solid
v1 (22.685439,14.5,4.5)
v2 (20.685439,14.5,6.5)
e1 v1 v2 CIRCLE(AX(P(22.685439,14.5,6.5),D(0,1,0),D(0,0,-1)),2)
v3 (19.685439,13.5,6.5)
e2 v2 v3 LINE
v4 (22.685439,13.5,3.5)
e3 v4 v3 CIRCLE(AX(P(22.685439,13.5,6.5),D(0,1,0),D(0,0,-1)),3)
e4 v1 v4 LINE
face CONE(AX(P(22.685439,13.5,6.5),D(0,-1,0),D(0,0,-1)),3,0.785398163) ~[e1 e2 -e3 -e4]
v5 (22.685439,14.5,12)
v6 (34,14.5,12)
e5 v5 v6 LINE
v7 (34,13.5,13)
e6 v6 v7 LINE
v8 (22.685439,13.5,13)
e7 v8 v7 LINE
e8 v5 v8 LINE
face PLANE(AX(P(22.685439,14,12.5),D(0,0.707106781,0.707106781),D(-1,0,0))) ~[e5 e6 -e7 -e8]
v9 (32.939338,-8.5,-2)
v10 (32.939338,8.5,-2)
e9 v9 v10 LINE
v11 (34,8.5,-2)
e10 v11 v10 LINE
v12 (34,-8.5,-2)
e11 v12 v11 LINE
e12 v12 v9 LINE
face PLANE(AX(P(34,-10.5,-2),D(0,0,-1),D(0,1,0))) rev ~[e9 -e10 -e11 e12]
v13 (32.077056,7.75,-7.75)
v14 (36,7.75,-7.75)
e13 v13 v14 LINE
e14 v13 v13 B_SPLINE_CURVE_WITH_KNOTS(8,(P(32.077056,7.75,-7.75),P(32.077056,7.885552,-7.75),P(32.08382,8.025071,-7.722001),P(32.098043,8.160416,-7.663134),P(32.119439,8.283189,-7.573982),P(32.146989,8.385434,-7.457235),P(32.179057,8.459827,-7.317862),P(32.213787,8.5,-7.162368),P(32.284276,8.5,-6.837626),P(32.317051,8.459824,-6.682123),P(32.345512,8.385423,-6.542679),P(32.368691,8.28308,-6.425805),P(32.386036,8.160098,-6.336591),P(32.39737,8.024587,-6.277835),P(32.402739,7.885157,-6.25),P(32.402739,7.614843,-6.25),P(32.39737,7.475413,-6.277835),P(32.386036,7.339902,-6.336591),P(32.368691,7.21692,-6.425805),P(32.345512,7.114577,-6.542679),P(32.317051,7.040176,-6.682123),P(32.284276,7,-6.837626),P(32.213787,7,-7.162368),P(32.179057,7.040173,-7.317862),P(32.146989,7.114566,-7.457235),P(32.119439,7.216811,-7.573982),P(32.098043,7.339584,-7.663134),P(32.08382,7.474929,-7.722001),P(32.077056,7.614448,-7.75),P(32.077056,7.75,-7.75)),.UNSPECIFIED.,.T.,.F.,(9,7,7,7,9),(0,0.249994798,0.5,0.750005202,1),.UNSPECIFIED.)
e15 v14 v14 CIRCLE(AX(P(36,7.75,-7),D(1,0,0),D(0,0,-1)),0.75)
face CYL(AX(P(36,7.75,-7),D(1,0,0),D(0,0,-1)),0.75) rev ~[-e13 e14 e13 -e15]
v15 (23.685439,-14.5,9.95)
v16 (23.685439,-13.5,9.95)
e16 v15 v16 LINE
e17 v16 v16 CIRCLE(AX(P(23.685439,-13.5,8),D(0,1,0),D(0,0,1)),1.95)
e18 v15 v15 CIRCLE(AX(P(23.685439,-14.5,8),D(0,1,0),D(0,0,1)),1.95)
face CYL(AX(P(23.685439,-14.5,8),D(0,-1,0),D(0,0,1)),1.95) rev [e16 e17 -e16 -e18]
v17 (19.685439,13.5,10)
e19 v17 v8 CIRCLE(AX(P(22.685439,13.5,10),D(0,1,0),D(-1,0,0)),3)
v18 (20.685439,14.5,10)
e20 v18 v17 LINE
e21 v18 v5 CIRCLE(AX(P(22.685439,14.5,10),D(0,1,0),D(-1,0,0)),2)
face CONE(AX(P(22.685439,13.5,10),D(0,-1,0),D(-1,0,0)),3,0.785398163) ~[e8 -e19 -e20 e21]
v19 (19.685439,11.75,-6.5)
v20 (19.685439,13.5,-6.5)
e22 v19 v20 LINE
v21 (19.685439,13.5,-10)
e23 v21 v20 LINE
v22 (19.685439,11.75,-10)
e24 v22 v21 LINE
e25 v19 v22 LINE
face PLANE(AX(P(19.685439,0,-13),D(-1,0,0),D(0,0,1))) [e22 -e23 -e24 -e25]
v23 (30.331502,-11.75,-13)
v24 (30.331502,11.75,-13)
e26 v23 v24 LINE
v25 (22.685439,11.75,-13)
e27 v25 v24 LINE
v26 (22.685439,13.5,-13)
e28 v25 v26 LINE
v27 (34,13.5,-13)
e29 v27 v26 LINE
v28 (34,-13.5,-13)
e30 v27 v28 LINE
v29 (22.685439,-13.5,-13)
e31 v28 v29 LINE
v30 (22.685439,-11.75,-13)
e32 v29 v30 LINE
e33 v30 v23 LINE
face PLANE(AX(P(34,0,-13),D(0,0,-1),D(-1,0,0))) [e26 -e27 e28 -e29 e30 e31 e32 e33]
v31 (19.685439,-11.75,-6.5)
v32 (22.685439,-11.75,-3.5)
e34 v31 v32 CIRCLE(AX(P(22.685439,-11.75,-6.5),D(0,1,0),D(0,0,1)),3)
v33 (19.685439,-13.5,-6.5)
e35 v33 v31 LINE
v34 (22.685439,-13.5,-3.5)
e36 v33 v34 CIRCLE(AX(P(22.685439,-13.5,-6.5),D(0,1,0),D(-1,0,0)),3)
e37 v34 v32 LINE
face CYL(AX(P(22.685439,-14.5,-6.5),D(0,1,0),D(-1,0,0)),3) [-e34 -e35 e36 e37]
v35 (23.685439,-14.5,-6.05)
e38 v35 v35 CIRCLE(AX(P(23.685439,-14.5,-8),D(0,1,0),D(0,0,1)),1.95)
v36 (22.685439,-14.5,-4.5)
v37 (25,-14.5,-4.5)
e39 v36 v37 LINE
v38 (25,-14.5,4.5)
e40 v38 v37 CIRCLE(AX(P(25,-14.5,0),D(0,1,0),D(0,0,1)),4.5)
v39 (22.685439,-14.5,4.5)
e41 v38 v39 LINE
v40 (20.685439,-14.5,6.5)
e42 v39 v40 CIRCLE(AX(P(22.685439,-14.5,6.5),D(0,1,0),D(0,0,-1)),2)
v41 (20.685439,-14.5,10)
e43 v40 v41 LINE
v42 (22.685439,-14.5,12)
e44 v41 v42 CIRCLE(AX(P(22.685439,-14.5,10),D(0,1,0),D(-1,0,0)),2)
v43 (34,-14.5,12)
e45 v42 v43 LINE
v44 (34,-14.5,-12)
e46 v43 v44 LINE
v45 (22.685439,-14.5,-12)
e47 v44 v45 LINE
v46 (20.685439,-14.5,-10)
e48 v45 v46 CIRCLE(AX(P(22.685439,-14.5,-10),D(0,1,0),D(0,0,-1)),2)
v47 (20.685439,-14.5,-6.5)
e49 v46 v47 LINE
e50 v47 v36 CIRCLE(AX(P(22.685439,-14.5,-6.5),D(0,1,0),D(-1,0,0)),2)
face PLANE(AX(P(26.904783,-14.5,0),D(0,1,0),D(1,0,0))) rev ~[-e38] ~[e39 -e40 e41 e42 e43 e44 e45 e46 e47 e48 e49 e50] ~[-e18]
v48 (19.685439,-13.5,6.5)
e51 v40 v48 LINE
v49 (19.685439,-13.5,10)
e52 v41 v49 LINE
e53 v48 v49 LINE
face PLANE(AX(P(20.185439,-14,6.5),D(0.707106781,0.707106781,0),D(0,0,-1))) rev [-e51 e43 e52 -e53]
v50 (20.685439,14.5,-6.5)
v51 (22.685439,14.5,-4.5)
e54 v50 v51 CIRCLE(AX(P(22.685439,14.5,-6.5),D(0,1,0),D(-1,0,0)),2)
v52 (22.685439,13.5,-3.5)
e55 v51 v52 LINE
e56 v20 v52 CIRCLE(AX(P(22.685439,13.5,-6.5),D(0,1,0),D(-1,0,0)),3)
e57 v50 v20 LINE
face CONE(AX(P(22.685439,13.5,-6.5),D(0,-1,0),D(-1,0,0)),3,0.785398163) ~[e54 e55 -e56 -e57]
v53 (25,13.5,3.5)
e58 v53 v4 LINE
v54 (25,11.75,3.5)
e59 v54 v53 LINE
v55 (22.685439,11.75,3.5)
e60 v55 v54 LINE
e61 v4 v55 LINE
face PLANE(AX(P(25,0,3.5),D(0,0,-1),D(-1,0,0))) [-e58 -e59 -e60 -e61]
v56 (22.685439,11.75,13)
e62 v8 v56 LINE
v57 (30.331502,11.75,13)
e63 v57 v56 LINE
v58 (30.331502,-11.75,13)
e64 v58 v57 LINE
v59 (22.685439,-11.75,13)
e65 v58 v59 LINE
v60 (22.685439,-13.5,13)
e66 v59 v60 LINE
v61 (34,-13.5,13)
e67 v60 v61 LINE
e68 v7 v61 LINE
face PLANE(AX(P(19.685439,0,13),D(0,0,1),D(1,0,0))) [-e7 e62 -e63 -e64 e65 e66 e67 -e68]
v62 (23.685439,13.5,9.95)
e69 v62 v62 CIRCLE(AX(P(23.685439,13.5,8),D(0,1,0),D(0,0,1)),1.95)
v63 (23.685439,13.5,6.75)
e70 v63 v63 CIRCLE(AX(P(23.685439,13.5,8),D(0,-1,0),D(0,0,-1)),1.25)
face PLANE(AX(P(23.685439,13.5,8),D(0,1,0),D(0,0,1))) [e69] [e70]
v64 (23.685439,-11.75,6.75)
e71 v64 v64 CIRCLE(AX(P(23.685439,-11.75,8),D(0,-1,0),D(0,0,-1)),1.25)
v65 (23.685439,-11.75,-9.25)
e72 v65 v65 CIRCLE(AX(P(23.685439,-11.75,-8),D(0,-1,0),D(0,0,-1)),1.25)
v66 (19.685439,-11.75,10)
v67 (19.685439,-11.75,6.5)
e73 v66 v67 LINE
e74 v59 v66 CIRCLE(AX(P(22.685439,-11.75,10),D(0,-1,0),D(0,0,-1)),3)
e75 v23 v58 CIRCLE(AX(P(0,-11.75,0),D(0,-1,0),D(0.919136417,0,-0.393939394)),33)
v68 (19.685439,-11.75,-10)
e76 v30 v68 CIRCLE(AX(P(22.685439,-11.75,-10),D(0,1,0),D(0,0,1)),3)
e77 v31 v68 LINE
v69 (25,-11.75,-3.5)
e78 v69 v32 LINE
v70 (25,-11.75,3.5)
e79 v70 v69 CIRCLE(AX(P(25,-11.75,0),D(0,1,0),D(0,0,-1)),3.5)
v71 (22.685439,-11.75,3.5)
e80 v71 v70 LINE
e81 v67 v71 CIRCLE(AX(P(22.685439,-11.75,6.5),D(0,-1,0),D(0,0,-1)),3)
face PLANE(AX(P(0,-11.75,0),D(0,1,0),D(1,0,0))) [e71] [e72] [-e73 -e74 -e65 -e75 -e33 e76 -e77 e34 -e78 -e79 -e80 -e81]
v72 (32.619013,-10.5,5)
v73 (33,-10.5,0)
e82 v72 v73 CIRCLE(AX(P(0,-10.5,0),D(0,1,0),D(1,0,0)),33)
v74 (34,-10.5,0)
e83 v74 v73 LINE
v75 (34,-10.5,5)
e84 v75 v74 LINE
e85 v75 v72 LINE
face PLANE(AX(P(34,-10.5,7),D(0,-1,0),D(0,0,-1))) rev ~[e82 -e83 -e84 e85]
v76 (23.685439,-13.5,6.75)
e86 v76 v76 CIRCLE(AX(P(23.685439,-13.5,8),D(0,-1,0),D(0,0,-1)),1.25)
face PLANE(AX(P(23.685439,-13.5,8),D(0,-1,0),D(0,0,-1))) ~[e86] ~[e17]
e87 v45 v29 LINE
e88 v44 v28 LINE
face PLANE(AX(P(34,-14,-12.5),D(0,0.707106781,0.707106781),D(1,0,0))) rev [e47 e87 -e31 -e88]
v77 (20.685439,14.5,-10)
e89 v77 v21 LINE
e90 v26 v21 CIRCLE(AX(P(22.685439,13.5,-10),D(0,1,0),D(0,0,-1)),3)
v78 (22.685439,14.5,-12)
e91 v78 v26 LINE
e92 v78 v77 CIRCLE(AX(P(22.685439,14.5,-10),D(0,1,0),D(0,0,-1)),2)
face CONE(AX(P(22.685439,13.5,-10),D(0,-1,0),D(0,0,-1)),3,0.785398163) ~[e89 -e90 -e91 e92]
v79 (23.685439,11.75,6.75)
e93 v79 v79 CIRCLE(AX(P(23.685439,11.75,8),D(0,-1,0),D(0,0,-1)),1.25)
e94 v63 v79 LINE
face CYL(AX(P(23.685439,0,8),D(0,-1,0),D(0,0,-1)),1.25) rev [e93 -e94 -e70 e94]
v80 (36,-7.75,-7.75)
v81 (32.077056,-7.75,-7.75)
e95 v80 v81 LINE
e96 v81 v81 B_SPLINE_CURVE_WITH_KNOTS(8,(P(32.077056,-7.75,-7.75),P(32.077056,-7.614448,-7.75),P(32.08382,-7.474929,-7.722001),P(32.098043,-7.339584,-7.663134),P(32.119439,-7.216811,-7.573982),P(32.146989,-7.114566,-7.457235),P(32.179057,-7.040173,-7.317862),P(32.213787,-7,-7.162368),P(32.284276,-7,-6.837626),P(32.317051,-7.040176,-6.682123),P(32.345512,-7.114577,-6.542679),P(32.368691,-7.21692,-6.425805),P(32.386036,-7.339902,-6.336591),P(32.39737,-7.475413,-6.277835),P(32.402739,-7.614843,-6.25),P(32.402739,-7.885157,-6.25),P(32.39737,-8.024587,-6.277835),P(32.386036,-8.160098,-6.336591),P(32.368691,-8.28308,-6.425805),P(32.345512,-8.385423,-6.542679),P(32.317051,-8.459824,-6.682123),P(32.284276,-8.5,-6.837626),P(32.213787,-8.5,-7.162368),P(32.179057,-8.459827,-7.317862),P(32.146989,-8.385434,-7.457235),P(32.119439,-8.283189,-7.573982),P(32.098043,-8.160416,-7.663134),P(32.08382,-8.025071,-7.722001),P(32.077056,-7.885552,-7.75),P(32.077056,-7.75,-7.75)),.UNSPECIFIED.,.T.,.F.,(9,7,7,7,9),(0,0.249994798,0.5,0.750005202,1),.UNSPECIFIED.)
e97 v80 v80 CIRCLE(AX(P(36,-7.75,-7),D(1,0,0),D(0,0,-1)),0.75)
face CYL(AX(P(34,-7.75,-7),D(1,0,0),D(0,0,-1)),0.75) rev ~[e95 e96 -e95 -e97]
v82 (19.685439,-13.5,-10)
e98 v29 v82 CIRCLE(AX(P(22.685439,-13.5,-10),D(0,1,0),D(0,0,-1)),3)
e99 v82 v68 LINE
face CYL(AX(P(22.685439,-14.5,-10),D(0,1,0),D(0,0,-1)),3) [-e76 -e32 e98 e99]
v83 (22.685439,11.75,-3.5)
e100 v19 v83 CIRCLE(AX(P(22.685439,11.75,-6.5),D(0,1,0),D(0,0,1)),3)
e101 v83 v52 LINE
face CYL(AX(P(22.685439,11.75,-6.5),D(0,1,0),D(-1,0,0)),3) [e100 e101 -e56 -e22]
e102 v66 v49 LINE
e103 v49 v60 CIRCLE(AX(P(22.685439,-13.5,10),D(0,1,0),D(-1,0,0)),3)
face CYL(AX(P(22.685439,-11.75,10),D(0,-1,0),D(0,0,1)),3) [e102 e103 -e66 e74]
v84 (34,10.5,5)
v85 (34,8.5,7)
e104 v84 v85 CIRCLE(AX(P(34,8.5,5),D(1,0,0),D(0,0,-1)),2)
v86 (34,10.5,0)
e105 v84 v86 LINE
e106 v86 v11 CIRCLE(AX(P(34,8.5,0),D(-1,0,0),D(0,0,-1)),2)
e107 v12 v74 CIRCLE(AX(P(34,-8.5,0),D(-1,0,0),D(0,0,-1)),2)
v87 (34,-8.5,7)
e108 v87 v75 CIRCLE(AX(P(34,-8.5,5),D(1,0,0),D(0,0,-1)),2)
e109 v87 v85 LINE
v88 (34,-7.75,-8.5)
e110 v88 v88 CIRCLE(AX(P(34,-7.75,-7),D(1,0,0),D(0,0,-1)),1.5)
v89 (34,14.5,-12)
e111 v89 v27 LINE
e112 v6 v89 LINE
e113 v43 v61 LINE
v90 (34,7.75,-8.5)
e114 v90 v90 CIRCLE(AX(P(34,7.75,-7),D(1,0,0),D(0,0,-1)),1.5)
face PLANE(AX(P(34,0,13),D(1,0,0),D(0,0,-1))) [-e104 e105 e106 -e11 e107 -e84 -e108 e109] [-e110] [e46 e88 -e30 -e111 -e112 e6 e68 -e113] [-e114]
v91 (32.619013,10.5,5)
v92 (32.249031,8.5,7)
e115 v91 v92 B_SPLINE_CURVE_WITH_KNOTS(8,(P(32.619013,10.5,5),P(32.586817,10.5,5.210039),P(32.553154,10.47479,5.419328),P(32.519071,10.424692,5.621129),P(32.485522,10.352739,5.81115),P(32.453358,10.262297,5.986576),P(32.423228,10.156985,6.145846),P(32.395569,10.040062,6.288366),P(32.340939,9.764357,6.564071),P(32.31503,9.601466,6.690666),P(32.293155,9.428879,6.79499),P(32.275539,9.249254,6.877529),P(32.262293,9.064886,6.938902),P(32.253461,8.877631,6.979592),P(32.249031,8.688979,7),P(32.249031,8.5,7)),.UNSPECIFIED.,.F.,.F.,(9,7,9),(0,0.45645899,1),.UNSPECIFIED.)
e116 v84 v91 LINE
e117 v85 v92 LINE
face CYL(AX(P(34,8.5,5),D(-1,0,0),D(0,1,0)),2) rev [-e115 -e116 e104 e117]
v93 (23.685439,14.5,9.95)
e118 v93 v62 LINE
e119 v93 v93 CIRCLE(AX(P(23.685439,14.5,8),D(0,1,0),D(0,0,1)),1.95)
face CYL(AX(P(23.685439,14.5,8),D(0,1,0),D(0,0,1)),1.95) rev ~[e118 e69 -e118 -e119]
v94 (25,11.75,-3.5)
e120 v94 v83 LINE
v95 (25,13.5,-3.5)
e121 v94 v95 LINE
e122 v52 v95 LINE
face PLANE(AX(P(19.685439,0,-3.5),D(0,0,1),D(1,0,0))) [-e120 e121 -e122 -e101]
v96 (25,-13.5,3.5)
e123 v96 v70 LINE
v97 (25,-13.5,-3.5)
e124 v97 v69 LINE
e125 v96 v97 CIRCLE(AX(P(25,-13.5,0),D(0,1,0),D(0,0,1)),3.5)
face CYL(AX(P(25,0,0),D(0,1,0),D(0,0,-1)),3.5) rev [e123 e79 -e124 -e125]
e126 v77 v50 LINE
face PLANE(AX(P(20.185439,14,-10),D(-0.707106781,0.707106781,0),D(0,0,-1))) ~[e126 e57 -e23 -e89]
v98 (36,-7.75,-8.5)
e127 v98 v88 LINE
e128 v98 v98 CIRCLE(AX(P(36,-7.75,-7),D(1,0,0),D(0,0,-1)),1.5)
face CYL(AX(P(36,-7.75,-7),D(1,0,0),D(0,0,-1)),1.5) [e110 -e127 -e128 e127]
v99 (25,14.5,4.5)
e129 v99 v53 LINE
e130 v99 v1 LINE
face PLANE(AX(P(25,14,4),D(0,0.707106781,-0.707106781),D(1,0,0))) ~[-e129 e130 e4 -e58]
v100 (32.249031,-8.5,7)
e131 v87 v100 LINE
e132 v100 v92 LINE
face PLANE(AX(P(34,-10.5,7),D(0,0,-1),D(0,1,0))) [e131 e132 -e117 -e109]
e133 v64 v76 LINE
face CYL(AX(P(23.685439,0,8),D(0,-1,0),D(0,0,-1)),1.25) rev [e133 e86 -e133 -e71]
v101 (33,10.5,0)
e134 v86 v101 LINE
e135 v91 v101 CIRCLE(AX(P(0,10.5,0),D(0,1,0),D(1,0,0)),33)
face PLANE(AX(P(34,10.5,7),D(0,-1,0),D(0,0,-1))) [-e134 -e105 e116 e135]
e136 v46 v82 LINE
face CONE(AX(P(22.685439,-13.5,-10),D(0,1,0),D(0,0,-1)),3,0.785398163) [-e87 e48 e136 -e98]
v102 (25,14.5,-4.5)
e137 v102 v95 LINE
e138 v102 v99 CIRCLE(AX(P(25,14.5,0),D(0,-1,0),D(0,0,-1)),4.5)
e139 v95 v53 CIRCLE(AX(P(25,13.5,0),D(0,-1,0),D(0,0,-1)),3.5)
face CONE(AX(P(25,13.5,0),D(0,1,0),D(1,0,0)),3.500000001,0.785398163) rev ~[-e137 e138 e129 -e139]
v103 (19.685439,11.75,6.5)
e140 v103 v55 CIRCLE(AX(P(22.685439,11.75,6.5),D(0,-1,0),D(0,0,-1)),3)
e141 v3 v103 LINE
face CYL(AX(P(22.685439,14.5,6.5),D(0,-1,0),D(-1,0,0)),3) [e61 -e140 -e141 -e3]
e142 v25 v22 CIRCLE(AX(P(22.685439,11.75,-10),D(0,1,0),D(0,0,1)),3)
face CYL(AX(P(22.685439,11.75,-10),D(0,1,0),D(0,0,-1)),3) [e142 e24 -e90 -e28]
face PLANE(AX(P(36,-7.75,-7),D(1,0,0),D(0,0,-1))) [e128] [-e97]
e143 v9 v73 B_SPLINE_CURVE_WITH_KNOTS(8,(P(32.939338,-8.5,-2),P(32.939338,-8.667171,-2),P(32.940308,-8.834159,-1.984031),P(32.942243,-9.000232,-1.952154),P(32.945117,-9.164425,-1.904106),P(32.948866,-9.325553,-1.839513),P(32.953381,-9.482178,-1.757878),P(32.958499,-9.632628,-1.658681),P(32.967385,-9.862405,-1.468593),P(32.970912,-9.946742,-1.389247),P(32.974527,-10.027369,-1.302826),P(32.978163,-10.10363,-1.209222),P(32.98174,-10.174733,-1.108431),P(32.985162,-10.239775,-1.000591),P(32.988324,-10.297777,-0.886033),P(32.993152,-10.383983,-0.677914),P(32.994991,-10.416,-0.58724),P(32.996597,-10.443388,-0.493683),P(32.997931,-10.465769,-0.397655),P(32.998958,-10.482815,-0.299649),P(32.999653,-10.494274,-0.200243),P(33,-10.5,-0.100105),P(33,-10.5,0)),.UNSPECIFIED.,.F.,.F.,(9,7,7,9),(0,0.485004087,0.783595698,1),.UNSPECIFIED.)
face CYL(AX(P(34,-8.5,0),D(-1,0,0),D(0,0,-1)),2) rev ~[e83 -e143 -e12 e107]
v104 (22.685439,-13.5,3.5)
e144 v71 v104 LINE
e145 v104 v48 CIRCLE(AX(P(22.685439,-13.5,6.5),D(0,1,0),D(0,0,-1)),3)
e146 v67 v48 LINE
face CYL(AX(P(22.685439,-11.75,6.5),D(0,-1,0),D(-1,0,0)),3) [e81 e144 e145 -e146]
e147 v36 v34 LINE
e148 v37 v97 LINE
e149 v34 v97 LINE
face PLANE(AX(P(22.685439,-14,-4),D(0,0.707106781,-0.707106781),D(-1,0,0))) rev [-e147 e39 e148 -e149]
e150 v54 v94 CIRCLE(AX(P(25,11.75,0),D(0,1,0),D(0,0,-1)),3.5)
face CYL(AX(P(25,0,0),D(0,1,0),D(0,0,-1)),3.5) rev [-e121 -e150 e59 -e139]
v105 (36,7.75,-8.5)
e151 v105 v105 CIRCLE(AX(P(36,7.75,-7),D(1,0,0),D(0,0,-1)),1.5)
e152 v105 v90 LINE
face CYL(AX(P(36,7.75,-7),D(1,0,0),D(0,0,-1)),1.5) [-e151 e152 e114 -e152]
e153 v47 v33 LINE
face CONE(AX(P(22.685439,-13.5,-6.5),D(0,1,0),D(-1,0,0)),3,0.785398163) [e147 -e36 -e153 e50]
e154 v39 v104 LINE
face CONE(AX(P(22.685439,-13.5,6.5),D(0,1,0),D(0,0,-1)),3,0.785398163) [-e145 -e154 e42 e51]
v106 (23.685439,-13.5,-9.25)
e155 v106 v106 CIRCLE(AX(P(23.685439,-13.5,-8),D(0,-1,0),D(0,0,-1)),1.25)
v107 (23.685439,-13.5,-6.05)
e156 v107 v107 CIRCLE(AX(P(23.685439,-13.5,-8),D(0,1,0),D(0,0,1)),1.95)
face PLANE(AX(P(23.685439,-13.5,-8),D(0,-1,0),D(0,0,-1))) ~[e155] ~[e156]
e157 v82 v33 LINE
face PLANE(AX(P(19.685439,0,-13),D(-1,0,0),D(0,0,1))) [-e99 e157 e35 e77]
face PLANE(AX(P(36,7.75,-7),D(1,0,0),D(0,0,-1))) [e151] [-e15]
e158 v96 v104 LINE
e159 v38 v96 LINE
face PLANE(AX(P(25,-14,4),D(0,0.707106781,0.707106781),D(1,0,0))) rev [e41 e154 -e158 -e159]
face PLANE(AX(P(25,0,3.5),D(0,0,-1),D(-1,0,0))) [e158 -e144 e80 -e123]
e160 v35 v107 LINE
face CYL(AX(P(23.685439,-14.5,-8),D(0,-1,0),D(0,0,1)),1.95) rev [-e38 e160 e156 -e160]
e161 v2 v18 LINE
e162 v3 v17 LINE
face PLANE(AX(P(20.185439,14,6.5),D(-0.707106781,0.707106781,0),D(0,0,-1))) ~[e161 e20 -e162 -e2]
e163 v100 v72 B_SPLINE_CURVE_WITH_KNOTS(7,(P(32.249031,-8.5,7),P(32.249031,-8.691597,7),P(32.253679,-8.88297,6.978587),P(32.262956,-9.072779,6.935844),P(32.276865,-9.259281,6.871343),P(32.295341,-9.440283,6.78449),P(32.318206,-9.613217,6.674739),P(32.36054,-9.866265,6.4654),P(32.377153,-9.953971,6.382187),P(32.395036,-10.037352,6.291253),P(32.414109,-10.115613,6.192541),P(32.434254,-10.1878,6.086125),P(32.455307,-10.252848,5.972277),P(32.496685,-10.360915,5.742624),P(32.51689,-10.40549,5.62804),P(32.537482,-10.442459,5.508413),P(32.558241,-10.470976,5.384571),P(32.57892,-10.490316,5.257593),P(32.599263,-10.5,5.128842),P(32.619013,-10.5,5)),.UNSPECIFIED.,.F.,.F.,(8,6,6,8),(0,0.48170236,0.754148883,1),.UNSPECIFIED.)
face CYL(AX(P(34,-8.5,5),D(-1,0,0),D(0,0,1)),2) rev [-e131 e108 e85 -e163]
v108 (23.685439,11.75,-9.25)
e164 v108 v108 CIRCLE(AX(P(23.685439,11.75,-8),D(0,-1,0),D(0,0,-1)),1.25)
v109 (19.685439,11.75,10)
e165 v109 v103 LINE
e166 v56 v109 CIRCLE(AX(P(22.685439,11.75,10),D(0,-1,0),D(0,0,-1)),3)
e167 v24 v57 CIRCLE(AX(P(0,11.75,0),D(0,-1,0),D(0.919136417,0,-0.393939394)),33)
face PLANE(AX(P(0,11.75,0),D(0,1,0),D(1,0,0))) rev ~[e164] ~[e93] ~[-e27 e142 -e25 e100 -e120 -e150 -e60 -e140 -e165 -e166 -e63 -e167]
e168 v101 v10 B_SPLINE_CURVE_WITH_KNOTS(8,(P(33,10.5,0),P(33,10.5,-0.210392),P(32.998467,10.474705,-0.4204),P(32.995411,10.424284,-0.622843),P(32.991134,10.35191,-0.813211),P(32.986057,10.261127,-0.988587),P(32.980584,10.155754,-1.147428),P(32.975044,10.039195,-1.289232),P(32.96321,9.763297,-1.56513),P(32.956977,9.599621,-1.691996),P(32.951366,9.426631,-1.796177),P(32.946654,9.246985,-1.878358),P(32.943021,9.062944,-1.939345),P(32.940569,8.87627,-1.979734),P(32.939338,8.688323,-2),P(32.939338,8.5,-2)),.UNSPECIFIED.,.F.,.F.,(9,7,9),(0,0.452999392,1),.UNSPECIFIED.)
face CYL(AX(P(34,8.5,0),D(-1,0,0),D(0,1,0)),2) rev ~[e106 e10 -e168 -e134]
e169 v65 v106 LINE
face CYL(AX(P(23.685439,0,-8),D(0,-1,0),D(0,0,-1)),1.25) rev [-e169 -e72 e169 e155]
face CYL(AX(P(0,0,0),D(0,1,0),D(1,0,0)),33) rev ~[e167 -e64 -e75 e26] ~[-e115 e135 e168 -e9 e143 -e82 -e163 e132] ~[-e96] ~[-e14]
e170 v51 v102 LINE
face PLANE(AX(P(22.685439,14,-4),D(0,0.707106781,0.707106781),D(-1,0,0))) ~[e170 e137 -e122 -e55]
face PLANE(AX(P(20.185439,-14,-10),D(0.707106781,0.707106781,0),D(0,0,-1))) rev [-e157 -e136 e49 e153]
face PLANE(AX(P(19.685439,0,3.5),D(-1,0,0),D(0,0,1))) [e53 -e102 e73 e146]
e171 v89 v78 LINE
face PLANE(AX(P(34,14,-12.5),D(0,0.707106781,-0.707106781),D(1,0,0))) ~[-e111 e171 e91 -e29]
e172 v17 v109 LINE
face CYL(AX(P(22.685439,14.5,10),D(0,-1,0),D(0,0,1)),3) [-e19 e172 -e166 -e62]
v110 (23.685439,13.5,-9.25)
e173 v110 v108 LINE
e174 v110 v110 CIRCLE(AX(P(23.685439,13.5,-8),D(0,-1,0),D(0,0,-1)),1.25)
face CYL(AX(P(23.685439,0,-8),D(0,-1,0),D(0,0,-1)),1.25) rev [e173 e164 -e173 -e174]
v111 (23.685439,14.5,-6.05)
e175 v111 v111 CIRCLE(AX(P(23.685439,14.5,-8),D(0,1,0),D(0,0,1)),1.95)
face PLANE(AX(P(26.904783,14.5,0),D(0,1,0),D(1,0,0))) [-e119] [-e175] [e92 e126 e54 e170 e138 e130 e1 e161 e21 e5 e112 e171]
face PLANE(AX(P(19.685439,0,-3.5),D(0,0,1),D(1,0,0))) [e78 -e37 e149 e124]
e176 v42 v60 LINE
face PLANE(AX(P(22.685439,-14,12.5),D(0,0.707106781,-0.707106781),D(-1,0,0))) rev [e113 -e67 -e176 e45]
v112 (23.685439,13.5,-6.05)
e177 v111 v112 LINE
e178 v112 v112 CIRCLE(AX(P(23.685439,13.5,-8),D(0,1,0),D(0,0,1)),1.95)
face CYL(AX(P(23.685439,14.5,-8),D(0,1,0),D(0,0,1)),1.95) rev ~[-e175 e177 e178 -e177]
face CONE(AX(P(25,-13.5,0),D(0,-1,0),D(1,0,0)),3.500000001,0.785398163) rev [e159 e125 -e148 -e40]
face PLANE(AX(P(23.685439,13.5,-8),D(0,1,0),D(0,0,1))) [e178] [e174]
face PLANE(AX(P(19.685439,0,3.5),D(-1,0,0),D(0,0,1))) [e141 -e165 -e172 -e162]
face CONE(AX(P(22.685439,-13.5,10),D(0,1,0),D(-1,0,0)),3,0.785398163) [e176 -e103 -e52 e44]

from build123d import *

# Parameters (mm, degrees)
SKETCH_1_R          = 1.25
EXTRUDE_1_DEPTH     = 14.5
SKETCH_2_R          = 33
CUT_EXTRUDE_1_DEPTH = 11.75
SKETCH_3_R          = 0.75
SKETCH_3_W          = 9
SKETCH_3_H          = 21
CUT_EXTRUDE_2_DEPTH = 25.169333236
EXTRUDE_START       = 2
SKETCH_4_R          = 1.5
SKETCH_4_R_2        = 0.75
EXTRUDE_2_DEPTH     = 2
FILLET_1_R          = 2
FILLET_2_R          = 3
CHAMFER_1_SIZE      = 1
SKETCH_5_R          = 1.95
CUT_EXTRUDE_3_DEPTH = 1


with BuildPart() as part:
    # Эскиз1 → Бобышка-Вытянуть1 (new, symmetric)
    with BuildSketch(Plane(origin=(0, 0, 0), x_dir=(1, 0, 0), z_dir=(0, 1, 0))):
        with BuildLine():
            Line((34, 13), (19.685438565, 13))
            Line((19.685438565, 13), (19.685438565, 3.5))
            Line((19.685438565, 3.5), (25, 3.5))
            ThreePointArc((25, 3.5), (27.474873734, 2.474873734), (28.5, 0))
            ThreePointArc((28.5, 0), (27.474873734, -2.474873734), (25, -3.5))
            Line((25, -3.5), (19.685438565, -3.5))
            Line((19.685438565, -3.5), (19.685438565, -13))
            Line((19.685438565, -13), (34, -13))
            Line((34, -13), (34, 13))
        make_face()
        with Locations(Location((23.685438565, -8, 0), (0, 0, 90))):
            Circle(SKETCH_1_R, mode=Mode.SUBTRACT)
        with Locations(Location((23.685438565, 8, 0), (0, 0, 90))):
            Circle(SKETCH_1_R, mode=Mode.SUBTRACT)
    extrude(amount=EXTRUDE_1_DEPTH, both=True)

    # Эскиз2 → Вырез-Вытянуть1 (cut, symmetric)
    with BuildSketch(Plane(origin=(0, 0, 0), x_dir=(1, 0, 0), z_dir=(0, 1, 0))):
        Circle(SKETCH_2_R)
    extrude(amount=CUT_EXTRUDE_1_DEPTH, both=True, mode=Mode.SUBTRACT)

    # Эскиз3 → Вырез-Вытянуть2 (cut, through all)
    with BuildSketch(Plane(origin=(34, 0, 0), x_dir=(0, 0, -1), z_dir=(1, 0, 0))):
        with Locations((7, 7.75)):
            Circle(SKETCH_3_R)
        with Locations((7, -7.75)):
            Circle(SKETCH_3_R)
        with Locations((-2.5, 0)):
            Rectangle(SKETCH_3_W, SKETCH_3_H)
    extrude(amount=-CUT_EXTRUDE_2_DEPTH, mode=Mode.SUBTRACT)

    # Эскиз4 → Бобышка-Вытянуть2 (add)
    # profile 1 of 2: a face of its own
    with BuildSketch(Plane(origin=(34, 0, 0), x_dir=(0, 0, -1), z_dir=(1, 0, 0)).offset(EXTRUDE_START)):
        with Locations((7, 7.75)):
            Circle(SKETCH_4_R)
        with Locations((7, 7.75)):
            Circle(SKETCH_4_R_2, mode=Mode.SUBTRACT)
    # profile 2 of 2: a face of its own
    with BuildSketch(Plane(origin=(34, 0, 0), x_dir=(0, 0, -1), z_dir=(1, 0, 0)).offset(EXTRUDE_START)):
        with Locations((7, -7.75)):
            Circle(SKETCH_4_R)
        with Locations((7, -7.75)):
            Circle(SKETCH_4_R_2, mode=Mode.SUBTRACT)
    extrude(amount=-EXTRUDE_2_DEPTH)

    # Скругление1
    fillet_1_edges = [part.edges().sort_by_distance(p)[0] for p in [
        (33.469669092, 10.5, -2),
        (33.469669092, -10.5, -2),
        (33.124515497, -10.5, 7),
        (33.124515497, 10.5, 7),
    ]]
    fillet(fillet_1_edges, radius=FILLET_1_R)

    # Скругление2
    fillet_2_edges = [part.edges().sort_by_distance(p)[0] for p in [
        (19.685438565, 13.125, -3.5),
        (19.685438565, 13.125, -13),
        (19.685438565, 13.125, 13),
        (19.685438565, 13.125, 3.5),
        (19.685438565, -13.125, -3.5),
        (19.685438565, -13.125, -13),
        (19.685438565, -13.125, 13),
        (19.685438565, -13.125, 3.5),
    ]]
    fillet(fillet_2_edges, radius=FILLET_2_R)

    # Фаска1
    chamfer_1_edges = [part.edges().sort_by_distance(p)[0] for p in [
        (19.685438565, -14.5, -8.25),
        (23.842719282, 14.5, 3.5),
        (23.842719282, -14.5, -3.5),
        (28.342719282, -14.5, -13),
        (28.342719282, -14.5, 13),
        (19.685438565, -14.5, 8.25),
        (20.564118221, -14.5, 12.121320344),
        (20.564118221, -14.5, 4.378679656),
        (20.564118221, -14.5, -4.378679656),
        (20.564118221, -14.5, -12.121320344),
        (28.342719282, 14.5, -13),
        (28.342719282, 14.5, 13),
        (19.685438565, 14.5, -8.25),
        (19.685438565, 14.5, 8.25),
        (20.564118221, 14.5, 12.121320344),
        (20.564118221, 14.5, 4.378679656),
        (20.564118221, 14.5, -4.378679656),
        (20.564118221, 14.5, -12.121320344),
        (23.842719282, -14.5, 3.5),
        (28.5, -14.5, 0),
        (23.842719282, 14.5, -3.5),
        (28.5, 14.5, 0),
    ]]
    chamfer(chamfer_1_edges, length=CHAMFER_1_SIZE)

    # Эскиз5 → Вырез-Вытянуть3 (cut)
    with BuildSketch(Plane(origin=(0, 14.5, 0), x_dir=(1, 0, 0), z_dir=(0, 1, 0))):
        with Locations(Location((23.685438565, -8, 0), (0, 0, 270))):
            Circle(SKETCH_5_R)
        with Locations(Location((23.685438565, 8, 0), (0, 0, 270))):
            Circle(SKETCH_5_R)
    cut_extrude_3 = extrude(amount=-CUT_EXTRUDE_3_DEPTH, mode=Mode.SUBTRACT)

    # Зеркальное отражение1: Вырез-Вытянуть3 across plane
    add(cut_extrude_3.mirror(Plane.ZX), mode=Mode.SUBTRACT)


solid = part.part
